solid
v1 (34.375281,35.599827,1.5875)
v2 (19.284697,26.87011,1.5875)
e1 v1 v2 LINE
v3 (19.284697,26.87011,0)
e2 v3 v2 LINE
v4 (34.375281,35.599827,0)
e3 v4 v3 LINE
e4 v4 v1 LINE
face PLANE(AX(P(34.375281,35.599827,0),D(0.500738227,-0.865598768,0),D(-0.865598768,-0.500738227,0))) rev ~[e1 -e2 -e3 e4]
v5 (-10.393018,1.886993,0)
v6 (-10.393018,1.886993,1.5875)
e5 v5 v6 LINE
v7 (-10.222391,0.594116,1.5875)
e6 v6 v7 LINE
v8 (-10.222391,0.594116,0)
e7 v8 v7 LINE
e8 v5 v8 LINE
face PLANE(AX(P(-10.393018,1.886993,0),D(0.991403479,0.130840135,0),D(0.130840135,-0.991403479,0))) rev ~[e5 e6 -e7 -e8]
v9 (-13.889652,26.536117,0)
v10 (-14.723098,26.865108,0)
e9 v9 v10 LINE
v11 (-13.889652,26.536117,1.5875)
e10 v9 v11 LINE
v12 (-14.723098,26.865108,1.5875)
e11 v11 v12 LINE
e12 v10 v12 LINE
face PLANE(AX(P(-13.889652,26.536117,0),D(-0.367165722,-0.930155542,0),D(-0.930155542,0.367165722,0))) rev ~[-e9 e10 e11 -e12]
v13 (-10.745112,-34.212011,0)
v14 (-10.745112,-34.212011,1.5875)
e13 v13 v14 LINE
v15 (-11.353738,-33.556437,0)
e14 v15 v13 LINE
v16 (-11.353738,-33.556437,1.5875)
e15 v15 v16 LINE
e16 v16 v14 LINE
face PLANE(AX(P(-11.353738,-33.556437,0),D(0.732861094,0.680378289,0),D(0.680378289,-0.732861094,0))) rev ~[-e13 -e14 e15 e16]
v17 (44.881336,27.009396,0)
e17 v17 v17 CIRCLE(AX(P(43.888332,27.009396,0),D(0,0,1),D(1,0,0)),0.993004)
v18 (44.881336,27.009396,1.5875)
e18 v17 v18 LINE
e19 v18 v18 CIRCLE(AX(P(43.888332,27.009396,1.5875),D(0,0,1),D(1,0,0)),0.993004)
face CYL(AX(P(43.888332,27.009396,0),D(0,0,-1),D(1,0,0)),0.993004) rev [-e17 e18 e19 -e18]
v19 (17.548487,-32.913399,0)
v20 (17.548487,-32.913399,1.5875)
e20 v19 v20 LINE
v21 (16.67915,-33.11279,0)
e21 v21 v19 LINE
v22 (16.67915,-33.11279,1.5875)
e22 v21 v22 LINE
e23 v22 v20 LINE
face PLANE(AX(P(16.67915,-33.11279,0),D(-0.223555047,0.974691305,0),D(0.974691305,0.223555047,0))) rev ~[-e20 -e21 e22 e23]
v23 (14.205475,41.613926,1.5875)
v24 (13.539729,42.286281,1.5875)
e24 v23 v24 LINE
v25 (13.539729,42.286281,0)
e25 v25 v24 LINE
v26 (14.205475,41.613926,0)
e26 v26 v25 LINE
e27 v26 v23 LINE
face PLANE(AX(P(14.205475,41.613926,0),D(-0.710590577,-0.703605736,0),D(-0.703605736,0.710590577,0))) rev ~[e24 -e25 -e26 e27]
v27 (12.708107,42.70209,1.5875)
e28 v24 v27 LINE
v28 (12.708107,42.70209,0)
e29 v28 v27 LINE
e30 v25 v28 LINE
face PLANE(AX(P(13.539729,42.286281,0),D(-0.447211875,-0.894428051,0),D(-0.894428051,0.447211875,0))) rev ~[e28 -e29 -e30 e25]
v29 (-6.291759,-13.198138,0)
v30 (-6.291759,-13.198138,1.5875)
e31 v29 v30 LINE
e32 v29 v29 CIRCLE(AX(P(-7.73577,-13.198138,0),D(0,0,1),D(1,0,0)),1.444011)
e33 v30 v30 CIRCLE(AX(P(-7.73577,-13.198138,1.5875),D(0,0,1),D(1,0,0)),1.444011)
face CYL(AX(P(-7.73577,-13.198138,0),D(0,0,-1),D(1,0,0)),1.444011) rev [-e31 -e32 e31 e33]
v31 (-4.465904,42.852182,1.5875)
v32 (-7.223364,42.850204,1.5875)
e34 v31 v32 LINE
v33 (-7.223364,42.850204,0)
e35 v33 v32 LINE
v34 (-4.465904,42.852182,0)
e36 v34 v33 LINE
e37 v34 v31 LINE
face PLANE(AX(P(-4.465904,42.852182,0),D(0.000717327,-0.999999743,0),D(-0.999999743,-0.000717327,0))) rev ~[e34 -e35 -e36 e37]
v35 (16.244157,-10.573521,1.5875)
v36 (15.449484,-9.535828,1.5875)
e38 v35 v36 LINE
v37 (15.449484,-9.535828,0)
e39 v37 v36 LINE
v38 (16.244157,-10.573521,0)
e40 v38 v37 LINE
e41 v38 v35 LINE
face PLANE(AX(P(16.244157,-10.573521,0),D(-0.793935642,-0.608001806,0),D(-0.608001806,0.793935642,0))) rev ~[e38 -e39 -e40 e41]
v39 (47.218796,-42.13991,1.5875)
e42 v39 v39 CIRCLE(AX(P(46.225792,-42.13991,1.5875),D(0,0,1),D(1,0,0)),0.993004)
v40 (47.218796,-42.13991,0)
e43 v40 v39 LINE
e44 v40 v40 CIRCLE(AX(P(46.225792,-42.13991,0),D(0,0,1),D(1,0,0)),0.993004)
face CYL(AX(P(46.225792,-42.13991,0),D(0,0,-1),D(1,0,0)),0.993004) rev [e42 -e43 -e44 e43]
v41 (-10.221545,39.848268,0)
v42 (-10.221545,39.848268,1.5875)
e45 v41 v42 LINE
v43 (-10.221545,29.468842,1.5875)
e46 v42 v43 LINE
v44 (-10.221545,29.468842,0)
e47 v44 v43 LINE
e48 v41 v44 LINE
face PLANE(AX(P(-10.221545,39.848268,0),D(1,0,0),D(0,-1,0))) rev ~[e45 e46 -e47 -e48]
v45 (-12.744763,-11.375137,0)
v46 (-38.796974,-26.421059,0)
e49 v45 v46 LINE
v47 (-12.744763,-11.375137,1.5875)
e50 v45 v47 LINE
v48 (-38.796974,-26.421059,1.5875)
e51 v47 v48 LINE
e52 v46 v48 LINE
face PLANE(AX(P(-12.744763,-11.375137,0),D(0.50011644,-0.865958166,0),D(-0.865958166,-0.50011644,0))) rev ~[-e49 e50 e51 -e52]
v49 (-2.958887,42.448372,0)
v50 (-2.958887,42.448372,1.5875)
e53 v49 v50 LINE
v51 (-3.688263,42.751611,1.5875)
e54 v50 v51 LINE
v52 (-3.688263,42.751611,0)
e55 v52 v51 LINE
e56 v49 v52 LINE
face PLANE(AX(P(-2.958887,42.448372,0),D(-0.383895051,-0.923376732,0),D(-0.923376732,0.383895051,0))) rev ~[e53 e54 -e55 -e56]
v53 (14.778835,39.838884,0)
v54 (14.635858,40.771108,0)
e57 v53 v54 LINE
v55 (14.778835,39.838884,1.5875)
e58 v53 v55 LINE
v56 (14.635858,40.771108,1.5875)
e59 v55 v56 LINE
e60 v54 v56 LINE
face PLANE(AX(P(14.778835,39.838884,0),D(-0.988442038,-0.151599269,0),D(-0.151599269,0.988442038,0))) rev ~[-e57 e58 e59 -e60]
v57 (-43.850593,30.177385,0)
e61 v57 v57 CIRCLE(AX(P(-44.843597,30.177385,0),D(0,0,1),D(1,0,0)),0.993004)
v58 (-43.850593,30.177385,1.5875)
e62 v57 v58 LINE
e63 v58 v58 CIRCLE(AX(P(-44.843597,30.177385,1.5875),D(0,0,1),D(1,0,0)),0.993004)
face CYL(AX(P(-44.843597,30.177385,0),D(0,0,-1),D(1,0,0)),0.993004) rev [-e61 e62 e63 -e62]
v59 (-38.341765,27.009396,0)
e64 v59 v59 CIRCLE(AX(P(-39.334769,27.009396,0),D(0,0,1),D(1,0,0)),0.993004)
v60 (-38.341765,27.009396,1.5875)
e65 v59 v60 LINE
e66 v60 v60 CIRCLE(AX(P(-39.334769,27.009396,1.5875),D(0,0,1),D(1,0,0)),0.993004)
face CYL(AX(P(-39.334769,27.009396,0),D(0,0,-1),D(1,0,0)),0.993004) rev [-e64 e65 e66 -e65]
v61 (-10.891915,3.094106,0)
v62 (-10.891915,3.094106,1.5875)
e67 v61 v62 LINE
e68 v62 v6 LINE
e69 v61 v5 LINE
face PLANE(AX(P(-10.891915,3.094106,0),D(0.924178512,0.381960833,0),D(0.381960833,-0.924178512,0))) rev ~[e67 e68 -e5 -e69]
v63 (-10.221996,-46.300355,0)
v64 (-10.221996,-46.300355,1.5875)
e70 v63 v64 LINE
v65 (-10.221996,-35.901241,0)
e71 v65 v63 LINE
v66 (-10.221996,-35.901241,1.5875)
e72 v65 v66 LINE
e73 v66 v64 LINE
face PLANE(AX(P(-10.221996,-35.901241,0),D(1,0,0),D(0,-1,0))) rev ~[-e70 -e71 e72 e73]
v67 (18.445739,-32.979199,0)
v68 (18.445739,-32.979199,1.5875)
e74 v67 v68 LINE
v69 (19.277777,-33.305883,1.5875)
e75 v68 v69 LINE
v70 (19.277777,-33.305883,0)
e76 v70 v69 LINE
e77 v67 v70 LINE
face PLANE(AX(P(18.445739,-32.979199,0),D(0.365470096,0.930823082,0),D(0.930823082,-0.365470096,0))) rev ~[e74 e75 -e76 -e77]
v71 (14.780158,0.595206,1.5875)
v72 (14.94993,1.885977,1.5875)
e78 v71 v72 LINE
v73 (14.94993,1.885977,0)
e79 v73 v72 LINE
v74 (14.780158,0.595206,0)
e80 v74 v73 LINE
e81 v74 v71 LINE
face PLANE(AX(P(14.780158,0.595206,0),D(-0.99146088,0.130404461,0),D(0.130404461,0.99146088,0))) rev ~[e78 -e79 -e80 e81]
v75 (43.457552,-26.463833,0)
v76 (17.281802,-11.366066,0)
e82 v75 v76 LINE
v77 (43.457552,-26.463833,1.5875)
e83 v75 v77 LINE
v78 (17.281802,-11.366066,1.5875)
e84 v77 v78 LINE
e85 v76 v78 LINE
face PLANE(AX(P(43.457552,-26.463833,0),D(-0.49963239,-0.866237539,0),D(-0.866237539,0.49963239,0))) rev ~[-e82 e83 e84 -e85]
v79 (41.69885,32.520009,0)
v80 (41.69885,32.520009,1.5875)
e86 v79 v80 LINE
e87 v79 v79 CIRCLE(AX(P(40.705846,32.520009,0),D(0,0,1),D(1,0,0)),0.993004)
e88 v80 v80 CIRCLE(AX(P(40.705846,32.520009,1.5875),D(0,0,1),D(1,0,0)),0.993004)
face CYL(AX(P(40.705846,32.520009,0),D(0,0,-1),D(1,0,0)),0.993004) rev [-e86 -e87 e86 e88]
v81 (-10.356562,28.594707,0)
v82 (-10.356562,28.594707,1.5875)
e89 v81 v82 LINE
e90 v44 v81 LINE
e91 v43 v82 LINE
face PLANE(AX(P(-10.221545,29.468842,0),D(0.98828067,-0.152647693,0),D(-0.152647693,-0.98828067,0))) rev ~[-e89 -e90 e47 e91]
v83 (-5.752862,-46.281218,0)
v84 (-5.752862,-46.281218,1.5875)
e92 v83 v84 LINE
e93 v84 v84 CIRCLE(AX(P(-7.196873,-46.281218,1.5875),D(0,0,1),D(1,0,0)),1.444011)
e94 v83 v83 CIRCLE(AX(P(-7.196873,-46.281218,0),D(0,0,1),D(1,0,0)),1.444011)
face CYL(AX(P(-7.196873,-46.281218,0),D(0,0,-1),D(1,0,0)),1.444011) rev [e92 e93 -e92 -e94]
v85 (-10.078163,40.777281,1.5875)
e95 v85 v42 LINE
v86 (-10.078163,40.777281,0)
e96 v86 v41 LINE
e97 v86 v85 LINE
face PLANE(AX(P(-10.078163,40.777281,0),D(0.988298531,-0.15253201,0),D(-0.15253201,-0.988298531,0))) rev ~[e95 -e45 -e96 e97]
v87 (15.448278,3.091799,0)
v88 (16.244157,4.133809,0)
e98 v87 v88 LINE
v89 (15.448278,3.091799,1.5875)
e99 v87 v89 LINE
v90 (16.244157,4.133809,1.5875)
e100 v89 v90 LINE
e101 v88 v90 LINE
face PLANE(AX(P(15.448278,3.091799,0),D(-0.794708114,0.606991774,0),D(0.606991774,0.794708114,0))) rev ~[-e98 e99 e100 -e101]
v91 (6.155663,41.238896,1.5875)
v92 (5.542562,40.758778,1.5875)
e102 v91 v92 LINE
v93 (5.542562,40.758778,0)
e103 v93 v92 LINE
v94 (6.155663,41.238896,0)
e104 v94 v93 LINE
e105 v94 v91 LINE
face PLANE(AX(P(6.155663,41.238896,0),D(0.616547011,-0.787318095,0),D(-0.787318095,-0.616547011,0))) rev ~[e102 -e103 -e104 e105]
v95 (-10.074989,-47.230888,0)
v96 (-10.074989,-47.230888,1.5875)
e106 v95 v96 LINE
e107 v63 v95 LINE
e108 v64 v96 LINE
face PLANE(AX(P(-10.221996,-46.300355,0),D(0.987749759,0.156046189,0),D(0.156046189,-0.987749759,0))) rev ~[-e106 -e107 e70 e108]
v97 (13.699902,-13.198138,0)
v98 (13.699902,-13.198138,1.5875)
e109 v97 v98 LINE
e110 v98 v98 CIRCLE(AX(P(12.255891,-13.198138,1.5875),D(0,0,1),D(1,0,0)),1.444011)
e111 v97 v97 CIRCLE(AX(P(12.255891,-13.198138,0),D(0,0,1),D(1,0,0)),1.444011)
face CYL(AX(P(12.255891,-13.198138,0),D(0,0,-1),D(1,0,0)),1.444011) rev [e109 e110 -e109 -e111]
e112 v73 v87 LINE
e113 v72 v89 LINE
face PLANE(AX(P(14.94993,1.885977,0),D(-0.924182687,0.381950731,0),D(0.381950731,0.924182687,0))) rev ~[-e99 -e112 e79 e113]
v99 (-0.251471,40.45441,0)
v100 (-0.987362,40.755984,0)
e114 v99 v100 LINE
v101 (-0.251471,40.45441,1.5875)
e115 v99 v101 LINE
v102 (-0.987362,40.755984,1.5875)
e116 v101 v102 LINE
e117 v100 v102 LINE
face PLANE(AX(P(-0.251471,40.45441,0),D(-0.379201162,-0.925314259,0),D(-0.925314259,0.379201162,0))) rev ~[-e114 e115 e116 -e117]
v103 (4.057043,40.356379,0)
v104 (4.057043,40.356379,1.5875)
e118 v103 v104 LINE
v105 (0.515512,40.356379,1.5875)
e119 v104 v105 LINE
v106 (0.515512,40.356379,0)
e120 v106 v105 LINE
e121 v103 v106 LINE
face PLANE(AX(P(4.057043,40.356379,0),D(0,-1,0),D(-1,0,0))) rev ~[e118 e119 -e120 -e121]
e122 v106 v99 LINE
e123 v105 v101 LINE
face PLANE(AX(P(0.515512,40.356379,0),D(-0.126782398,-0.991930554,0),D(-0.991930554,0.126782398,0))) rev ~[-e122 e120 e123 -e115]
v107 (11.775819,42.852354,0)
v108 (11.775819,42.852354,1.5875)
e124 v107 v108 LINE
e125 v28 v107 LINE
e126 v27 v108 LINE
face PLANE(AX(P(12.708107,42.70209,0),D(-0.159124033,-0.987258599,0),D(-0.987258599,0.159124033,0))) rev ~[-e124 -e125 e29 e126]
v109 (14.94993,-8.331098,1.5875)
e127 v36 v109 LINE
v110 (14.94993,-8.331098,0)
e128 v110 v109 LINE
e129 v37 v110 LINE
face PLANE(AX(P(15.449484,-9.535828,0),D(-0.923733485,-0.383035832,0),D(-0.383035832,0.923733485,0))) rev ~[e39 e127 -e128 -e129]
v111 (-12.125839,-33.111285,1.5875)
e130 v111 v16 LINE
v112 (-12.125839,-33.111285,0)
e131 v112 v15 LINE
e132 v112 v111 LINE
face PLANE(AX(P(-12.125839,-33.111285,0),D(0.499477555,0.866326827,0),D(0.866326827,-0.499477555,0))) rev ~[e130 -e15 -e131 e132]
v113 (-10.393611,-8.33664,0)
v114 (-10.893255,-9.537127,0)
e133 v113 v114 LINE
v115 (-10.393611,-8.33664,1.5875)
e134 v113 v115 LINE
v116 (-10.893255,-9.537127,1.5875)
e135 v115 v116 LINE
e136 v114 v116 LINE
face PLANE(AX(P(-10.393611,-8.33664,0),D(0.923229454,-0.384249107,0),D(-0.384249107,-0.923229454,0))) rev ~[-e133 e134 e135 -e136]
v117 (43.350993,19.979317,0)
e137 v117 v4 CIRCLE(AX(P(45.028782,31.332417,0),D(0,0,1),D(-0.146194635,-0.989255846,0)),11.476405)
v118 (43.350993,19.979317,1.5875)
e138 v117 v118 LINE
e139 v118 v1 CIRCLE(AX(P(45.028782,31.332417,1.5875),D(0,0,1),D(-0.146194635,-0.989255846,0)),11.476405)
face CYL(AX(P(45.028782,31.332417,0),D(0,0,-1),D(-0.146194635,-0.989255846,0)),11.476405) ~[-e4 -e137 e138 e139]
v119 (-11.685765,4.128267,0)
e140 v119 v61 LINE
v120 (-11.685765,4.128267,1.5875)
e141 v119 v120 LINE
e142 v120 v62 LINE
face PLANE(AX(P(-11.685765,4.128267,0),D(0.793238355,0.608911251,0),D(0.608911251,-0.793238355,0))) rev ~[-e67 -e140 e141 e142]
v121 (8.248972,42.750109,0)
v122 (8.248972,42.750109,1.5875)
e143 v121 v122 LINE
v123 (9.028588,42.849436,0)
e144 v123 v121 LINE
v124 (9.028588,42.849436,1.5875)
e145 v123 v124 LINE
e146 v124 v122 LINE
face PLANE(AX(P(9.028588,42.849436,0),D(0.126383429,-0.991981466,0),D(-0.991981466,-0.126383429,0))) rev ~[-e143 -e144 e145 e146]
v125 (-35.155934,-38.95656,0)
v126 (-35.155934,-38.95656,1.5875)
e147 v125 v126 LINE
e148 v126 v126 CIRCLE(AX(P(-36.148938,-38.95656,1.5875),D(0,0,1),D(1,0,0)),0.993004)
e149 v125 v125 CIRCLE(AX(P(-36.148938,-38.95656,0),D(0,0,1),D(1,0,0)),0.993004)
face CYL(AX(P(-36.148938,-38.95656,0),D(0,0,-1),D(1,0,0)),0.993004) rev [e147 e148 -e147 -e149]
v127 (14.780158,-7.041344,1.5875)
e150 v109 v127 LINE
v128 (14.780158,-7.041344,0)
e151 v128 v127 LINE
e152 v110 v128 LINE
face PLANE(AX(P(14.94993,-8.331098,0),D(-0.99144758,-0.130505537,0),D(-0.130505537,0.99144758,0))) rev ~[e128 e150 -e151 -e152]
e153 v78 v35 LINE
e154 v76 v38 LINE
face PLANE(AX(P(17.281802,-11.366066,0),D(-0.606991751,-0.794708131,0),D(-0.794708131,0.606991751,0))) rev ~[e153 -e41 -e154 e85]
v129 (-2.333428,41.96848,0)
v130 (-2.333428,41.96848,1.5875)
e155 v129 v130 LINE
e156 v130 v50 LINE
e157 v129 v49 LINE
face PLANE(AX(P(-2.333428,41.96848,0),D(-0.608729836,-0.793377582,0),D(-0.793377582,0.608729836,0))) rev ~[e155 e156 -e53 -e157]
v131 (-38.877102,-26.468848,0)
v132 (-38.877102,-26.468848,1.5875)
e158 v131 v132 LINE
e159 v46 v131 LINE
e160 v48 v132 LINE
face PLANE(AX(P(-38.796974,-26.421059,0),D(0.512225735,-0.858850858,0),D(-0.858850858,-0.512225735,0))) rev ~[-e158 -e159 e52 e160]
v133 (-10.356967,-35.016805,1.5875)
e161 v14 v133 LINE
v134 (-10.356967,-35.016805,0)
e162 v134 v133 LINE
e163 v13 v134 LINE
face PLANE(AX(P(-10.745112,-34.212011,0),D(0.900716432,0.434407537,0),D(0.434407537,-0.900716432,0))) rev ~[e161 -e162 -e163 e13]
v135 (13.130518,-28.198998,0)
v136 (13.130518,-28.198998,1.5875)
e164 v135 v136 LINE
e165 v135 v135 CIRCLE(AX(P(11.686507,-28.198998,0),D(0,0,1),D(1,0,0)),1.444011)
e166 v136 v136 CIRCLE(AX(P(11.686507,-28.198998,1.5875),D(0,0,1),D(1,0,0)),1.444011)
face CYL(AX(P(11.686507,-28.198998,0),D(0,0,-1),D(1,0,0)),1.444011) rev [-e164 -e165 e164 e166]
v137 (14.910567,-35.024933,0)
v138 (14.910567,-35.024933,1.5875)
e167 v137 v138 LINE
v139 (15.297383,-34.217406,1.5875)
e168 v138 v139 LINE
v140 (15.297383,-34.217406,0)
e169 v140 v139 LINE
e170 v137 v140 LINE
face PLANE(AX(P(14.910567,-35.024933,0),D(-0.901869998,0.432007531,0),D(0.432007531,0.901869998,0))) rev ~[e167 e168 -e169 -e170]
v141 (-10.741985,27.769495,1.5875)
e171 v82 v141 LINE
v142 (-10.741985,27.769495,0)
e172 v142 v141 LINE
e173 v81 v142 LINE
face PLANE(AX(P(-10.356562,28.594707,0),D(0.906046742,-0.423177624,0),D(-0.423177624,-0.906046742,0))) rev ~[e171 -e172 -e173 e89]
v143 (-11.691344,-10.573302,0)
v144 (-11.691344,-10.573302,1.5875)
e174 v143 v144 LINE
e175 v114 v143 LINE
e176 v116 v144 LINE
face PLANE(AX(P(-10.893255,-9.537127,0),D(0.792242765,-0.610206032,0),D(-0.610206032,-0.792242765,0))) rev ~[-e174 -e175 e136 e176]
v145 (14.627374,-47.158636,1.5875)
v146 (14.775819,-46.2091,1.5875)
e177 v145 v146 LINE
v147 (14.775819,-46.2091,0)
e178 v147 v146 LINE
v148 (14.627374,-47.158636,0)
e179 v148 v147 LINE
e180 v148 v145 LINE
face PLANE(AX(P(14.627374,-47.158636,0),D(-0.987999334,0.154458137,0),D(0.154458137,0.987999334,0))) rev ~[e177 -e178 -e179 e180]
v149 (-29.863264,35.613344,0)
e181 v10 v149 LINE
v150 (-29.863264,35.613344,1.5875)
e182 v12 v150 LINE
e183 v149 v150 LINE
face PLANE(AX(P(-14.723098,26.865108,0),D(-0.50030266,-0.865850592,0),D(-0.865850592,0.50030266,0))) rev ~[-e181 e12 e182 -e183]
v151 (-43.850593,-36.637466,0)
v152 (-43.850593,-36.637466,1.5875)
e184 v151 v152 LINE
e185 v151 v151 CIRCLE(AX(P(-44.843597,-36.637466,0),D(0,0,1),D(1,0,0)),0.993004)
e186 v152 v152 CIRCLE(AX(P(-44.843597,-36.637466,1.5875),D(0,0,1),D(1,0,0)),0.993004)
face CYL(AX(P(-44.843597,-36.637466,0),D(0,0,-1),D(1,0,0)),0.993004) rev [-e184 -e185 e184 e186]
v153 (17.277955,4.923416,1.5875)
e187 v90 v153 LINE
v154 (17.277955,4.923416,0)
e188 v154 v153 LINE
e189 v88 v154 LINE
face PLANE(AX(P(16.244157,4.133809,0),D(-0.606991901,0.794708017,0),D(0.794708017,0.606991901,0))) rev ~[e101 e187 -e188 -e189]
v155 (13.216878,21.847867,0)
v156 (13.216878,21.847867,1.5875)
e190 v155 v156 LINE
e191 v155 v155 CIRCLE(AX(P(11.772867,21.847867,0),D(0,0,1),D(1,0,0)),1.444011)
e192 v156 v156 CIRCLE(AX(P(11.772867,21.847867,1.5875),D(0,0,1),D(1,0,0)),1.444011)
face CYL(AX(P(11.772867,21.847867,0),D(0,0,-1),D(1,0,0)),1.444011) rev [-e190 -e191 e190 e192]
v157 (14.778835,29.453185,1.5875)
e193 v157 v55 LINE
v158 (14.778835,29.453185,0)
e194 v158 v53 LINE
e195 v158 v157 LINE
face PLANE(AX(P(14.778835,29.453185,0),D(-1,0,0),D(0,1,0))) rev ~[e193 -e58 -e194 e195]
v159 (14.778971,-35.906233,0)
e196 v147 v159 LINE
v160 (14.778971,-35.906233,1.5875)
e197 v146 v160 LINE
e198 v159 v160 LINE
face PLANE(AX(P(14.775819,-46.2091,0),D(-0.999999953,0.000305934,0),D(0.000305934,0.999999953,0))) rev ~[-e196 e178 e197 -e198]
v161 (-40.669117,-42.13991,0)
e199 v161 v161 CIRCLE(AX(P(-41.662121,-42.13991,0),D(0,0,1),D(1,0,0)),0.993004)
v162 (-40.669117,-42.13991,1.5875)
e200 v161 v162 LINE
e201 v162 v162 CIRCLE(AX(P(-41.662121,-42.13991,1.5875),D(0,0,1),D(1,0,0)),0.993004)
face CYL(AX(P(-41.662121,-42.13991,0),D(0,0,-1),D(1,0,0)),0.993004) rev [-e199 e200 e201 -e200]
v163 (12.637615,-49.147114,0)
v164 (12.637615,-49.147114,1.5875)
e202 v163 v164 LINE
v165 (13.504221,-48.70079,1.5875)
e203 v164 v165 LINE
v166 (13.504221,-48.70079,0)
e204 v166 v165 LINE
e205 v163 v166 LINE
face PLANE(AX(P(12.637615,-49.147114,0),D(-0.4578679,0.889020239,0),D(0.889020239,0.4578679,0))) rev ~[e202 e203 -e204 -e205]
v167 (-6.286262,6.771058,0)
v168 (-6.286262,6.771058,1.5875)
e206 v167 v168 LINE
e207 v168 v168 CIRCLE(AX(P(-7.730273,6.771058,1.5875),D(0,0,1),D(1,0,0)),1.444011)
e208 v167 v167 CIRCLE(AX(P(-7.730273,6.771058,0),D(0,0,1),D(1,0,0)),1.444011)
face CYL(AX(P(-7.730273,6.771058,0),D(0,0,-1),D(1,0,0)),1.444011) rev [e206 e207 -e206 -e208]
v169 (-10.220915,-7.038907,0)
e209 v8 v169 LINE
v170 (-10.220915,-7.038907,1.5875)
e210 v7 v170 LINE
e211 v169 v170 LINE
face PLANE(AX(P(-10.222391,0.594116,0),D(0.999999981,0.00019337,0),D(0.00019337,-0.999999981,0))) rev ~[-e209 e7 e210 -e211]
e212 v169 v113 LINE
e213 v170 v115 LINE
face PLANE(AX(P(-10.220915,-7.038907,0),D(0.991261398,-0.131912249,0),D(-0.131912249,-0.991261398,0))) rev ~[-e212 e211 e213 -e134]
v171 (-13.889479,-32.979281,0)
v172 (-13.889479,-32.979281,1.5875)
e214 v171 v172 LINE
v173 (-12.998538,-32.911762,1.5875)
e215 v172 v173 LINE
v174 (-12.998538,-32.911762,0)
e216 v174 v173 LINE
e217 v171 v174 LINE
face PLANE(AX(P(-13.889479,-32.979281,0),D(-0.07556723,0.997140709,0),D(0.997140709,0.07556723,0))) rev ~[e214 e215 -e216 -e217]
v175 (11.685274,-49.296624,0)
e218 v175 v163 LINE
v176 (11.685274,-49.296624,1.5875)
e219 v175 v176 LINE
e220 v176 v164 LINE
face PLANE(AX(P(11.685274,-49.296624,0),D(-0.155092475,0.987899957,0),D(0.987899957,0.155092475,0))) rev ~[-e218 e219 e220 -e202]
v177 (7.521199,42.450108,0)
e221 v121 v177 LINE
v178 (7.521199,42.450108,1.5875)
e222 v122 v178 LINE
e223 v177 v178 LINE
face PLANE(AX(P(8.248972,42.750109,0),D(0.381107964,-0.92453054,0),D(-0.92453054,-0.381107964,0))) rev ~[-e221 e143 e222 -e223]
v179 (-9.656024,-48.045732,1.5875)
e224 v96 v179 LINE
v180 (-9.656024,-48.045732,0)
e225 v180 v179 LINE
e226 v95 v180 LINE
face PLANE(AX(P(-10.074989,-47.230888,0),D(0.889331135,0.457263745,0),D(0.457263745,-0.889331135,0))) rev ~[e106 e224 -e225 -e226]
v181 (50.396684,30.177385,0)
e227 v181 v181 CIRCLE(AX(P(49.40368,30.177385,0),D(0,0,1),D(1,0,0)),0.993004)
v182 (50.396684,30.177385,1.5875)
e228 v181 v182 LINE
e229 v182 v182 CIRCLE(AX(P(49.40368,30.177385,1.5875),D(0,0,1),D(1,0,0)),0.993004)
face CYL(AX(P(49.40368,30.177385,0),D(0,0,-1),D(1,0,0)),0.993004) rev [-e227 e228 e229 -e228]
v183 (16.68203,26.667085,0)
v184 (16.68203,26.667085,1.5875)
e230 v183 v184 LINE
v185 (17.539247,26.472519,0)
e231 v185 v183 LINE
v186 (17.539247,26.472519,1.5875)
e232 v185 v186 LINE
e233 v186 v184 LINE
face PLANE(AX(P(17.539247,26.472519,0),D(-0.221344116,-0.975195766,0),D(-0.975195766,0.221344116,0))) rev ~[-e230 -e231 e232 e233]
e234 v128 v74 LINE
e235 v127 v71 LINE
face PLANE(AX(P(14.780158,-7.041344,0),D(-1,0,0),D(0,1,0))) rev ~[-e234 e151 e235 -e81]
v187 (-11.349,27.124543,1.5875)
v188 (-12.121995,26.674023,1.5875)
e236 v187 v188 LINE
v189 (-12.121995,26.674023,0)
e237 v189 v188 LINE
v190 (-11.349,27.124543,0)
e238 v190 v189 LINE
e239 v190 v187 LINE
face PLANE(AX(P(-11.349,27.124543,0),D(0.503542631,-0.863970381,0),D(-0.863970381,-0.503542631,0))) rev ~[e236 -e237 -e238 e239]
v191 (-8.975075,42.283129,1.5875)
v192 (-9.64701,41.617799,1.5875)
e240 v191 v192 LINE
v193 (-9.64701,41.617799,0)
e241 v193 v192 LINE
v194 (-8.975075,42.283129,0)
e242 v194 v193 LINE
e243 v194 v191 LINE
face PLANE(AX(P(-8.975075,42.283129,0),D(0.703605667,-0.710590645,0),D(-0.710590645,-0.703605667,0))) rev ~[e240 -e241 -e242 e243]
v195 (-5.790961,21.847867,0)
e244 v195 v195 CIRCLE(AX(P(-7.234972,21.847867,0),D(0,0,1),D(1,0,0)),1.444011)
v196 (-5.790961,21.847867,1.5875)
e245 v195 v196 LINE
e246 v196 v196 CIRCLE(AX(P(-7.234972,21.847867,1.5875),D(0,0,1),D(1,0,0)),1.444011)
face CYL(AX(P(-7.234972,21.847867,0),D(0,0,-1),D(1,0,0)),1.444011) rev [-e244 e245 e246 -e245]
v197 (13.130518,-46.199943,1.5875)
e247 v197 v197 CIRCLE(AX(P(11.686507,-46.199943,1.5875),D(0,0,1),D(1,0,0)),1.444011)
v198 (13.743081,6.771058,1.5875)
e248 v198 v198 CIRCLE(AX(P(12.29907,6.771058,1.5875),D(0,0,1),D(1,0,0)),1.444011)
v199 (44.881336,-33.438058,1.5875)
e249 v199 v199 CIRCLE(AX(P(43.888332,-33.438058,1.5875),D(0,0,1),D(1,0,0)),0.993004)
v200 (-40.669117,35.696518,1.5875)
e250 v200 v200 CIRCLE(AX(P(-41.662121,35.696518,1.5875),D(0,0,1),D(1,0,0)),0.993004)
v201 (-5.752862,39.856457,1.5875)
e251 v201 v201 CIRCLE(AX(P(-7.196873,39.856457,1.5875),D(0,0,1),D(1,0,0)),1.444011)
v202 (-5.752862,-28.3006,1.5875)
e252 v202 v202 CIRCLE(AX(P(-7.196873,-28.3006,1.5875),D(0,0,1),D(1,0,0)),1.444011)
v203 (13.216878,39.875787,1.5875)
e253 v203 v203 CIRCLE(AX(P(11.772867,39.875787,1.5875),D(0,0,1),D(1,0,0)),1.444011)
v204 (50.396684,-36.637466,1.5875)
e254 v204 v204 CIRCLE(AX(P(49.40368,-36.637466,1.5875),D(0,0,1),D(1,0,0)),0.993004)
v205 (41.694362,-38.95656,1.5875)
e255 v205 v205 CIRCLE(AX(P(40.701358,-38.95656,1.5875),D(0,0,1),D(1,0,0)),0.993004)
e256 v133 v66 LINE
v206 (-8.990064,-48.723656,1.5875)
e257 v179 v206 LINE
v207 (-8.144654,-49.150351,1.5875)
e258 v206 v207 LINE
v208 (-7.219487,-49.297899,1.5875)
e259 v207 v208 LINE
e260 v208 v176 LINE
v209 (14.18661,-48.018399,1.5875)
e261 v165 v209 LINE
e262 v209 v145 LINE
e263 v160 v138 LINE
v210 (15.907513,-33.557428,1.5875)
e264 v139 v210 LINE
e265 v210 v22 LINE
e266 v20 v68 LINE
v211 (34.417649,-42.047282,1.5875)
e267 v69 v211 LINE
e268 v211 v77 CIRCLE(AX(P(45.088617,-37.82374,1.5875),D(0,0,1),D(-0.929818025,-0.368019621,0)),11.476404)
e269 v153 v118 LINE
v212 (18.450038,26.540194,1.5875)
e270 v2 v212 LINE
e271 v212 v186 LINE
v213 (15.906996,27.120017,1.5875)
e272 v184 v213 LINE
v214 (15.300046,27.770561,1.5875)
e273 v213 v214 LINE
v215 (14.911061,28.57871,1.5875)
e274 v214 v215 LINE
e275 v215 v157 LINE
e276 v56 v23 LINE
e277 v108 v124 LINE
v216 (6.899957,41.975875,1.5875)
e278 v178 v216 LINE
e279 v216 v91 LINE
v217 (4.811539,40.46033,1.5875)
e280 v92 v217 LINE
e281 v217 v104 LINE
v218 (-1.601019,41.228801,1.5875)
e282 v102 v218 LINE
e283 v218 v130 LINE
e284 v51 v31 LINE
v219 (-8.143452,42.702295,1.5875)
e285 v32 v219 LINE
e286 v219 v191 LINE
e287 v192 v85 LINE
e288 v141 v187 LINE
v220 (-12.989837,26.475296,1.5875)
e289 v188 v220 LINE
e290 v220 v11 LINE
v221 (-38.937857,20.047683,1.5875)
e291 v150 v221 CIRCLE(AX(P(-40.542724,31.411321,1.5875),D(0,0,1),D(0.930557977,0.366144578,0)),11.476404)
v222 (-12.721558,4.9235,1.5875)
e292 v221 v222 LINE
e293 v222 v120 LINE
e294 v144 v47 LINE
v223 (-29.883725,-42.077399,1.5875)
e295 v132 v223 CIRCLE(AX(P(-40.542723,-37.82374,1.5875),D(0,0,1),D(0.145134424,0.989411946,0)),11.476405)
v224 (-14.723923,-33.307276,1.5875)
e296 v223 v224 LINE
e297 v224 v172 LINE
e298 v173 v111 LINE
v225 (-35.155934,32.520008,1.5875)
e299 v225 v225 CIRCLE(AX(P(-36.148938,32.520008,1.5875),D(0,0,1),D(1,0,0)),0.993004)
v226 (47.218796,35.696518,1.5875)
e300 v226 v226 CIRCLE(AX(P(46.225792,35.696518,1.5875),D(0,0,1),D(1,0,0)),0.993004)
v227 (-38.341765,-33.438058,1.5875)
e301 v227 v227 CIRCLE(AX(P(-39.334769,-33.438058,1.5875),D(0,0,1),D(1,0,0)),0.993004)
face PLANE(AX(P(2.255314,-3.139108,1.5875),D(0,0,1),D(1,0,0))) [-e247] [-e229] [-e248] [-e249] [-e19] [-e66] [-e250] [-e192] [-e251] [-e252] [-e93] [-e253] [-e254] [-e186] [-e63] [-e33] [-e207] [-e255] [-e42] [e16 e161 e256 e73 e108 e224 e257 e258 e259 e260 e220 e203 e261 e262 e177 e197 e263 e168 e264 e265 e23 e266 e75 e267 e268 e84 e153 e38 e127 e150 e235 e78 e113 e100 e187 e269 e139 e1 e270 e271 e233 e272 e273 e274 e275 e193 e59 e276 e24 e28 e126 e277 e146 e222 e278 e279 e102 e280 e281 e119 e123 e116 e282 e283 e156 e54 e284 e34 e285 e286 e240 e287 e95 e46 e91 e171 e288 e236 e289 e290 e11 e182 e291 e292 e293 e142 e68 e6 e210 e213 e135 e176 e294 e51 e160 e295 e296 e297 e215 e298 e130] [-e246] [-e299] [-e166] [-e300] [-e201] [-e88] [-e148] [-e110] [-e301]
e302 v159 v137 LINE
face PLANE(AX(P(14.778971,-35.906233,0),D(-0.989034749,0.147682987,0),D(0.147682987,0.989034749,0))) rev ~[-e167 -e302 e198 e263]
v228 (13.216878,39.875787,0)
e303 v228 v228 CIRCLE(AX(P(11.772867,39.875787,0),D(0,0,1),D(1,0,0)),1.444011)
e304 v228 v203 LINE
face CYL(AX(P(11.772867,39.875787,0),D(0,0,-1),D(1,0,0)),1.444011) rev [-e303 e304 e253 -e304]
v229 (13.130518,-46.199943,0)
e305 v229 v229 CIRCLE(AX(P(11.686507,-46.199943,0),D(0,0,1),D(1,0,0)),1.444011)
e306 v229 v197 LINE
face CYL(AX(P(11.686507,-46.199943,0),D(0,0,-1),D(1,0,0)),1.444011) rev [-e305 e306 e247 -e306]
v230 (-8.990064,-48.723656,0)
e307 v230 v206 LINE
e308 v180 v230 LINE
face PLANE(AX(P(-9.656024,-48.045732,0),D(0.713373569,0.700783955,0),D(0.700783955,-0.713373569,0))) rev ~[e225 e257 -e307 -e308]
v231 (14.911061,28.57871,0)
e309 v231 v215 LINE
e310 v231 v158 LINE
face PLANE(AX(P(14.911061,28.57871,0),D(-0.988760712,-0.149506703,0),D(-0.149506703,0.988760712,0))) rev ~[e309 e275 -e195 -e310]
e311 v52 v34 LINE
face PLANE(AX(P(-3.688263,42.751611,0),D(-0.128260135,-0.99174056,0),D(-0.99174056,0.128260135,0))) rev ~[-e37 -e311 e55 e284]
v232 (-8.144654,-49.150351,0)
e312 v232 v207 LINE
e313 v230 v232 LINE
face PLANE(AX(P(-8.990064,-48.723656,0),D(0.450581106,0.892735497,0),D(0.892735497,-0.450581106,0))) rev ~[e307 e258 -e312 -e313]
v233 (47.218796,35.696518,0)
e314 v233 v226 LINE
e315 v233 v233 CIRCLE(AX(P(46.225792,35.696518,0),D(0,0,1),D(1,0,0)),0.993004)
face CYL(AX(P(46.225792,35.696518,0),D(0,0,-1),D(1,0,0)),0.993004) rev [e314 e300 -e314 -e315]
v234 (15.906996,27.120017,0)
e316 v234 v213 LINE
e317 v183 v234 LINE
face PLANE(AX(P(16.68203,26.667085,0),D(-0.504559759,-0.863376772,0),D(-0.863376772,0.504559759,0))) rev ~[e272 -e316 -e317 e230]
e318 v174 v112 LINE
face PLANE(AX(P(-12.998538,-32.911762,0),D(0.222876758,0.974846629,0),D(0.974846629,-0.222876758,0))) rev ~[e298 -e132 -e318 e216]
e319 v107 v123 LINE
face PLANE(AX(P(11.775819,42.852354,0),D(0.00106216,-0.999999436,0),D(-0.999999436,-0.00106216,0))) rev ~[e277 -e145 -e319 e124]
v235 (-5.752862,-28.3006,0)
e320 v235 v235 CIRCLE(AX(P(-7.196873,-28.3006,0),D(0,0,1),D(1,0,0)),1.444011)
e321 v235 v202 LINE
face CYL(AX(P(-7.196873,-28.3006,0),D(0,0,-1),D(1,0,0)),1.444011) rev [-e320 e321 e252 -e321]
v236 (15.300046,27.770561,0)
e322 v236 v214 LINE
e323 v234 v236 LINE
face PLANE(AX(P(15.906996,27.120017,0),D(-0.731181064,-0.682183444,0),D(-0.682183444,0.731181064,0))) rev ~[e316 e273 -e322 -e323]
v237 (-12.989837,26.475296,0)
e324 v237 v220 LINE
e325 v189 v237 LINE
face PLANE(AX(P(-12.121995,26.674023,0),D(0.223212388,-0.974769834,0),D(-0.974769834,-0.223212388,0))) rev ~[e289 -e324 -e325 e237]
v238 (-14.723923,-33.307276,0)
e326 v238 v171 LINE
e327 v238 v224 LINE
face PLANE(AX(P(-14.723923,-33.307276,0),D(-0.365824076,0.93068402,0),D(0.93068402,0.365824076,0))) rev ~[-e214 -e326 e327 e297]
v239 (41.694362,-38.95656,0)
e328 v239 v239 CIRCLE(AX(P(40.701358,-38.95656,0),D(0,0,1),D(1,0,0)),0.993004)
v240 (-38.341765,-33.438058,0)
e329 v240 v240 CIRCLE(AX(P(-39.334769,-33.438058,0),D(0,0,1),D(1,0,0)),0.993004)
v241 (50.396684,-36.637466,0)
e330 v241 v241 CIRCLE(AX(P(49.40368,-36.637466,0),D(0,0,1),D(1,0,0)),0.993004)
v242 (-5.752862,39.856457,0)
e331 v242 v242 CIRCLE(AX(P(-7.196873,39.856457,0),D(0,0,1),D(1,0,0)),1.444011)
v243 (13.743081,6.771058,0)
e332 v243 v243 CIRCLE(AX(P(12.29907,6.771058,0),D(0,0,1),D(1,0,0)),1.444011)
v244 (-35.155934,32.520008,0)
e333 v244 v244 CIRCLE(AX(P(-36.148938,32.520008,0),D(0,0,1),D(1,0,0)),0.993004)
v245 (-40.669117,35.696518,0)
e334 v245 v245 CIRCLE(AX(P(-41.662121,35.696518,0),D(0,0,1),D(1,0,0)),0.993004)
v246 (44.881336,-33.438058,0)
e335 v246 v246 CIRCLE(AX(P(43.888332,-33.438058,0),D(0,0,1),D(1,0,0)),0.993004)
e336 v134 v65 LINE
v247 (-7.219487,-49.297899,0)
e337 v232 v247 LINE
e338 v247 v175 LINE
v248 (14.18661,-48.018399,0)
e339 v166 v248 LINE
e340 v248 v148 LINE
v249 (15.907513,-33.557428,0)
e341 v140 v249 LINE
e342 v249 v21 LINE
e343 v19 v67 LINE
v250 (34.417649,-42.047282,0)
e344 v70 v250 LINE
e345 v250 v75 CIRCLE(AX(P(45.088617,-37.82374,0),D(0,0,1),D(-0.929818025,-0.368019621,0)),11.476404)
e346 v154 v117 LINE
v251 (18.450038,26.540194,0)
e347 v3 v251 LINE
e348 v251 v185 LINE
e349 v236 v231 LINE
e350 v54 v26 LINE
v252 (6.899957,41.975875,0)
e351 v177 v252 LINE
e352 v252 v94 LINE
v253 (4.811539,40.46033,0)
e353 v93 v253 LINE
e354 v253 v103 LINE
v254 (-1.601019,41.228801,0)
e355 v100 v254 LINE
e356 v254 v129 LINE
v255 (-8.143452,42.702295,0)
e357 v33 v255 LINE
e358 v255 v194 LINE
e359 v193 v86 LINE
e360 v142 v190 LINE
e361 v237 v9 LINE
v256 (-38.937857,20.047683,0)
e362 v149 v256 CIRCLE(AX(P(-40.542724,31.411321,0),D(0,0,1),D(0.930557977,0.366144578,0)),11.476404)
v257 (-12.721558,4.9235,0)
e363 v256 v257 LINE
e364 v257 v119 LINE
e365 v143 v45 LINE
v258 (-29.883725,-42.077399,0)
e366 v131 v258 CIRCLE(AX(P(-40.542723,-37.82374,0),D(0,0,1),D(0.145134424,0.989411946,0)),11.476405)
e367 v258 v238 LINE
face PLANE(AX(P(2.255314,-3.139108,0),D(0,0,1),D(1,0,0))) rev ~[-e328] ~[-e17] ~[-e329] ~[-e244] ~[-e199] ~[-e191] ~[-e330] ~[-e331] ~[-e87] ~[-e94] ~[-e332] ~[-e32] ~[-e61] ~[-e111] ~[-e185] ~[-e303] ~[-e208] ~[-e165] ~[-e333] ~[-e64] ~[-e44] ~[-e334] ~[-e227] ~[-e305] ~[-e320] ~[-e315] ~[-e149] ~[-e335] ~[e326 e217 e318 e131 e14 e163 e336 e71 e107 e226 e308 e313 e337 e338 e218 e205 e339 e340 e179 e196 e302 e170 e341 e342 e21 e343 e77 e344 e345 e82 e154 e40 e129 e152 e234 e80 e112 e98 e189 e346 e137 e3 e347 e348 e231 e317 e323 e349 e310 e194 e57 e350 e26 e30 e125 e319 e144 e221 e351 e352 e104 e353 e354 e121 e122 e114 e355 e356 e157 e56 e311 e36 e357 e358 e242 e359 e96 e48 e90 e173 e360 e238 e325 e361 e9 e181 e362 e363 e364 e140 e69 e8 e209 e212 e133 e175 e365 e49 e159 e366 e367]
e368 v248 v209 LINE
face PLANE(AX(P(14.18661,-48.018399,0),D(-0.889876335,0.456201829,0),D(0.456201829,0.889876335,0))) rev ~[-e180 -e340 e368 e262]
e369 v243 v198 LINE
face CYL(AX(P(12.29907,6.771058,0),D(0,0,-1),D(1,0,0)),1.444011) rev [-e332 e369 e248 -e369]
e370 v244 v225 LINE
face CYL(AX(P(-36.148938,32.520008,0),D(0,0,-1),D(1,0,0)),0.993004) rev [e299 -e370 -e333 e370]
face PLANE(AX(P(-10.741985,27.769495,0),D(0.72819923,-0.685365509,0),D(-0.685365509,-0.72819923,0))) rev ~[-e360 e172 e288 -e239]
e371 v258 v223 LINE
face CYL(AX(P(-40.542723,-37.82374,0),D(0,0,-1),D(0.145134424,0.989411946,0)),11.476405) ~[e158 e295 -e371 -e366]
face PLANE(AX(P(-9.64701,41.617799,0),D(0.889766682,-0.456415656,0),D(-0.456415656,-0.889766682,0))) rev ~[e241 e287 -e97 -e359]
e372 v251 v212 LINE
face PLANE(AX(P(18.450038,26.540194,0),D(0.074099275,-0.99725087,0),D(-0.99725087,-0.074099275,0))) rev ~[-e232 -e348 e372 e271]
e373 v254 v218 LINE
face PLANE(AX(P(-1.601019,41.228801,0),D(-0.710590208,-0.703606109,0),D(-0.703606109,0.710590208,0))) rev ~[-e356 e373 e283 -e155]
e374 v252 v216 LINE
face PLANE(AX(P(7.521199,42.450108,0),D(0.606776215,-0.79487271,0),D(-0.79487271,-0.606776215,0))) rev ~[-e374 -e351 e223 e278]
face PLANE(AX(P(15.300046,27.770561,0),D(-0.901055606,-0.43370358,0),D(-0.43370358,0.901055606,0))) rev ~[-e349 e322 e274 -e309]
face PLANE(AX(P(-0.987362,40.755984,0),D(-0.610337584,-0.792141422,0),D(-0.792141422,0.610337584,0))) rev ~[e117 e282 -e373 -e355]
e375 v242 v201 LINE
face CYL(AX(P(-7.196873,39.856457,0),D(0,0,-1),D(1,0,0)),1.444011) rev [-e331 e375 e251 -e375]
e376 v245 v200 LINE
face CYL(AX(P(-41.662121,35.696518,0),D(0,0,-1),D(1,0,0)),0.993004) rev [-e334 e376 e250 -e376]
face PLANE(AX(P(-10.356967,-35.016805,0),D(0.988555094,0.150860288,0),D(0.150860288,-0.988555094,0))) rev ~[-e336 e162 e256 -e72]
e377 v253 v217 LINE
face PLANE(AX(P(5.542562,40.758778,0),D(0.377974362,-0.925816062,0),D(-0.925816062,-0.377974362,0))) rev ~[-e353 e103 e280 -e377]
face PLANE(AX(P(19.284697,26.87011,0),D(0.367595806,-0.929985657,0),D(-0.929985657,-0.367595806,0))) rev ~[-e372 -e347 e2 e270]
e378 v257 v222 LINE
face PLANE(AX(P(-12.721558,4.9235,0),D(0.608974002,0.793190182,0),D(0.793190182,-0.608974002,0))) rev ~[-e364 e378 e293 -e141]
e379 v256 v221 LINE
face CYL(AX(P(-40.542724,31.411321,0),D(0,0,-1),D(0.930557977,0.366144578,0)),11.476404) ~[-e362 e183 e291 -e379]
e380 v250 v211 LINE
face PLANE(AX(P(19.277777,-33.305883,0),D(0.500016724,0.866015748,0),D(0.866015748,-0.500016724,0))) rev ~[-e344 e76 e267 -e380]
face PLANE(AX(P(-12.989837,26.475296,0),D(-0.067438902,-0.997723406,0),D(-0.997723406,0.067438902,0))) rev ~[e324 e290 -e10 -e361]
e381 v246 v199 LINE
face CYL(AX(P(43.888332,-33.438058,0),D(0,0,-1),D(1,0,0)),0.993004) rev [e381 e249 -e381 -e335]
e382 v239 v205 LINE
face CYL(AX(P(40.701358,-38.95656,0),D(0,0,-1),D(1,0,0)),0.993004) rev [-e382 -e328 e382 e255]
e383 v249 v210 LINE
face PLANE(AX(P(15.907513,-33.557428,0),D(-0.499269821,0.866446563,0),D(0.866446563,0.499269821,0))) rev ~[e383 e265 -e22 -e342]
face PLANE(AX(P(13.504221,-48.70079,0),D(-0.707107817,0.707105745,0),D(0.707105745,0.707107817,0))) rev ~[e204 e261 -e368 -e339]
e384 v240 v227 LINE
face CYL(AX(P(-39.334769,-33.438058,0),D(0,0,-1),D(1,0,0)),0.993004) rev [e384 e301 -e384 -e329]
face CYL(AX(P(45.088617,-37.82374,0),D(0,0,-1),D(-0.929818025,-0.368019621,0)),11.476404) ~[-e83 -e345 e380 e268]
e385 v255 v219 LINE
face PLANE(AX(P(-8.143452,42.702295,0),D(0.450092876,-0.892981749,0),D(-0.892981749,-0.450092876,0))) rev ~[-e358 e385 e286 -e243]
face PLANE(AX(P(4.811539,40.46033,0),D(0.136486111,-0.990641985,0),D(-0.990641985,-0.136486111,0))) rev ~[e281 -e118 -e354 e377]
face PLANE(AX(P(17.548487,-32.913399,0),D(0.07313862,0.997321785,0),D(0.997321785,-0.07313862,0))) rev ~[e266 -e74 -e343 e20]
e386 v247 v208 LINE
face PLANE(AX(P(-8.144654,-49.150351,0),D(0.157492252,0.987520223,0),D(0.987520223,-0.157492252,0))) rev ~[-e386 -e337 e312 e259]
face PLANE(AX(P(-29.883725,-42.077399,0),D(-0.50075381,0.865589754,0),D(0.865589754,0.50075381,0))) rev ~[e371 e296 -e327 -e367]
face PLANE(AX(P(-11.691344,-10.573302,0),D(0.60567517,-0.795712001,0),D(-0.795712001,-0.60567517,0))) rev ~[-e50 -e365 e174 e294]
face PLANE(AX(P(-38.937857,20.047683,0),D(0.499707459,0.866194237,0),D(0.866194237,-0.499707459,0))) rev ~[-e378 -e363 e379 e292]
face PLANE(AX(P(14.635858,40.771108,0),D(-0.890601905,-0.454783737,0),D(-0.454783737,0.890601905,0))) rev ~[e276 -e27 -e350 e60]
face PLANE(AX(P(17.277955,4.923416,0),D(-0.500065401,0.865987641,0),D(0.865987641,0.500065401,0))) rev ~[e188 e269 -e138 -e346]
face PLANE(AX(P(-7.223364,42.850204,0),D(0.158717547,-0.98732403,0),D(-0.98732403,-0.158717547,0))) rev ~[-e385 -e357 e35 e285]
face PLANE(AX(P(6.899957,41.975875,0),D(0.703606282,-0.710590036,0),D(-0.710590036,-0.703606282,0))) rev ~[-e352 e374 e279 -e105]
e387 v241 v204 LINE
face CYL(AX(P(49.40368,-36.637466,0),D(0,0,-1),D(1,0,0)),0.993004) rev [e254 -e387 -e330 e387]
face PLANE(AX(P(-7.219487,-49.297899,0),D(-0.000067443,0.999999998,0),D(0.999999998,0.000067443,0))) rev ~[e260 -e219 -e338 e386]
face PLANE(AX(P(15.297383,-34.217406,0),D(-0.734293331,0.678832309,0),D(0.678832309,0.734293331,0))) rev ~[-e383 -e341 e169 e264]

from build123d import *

# Parameters (mm, degrees)
F0_R     = 0.993004
F0_R_2   = 1.444011
F1_DEPTH = 1.5875


with BuildPart() as f1:
    # F0 (on Top) → F1 (new body)
    with BuildSketch(Plane.XY):
        with BuildLine():
            Line((-14.723098, 26.865108), (-29.863264, 35.613344))
            ThreePointArc((-29.863264, 35.613344), (-50.45729, 37.191393), (-38.937857, 20.047683))
            Line((-38.937857, 20.047683), (-12.721558, 4.9235))
            Line((-12.721558, 4.9235), (-11.685765, 4.128267))
            Line((-11.685765, 4.128267), (-10.891915, 3.094106))
            Line((-10.891915, 3.094106), (-10.393018, 1.886993))
            Line((-10.393018, 1.886993), (-10.222391, 0.594116))
            Line((-10.222391, 0.594116), (-10.220915, -7.038907))
            Line((-10.220915, -7.038907), (-10.393611, -8.33664))
            Line((-10.393611, -8.33664), (-10.893255, -9.537127))
            Line((-10.893255, -9.537127), (-11.691344, -10.573302))
            Line((-11.691344, -10.573302), (-12.744763, -11.375137))
            Line((-12.744763, -11.375137), (-38.796974, -26.421059))
            Line((-38.796974, -26.421059), (-38.877102, -26.468848))
            ThreePointArc((-38.877102, -26.468848), (-50.486605, -43.553232), (-29.883725, -42.077399))
            Line((-29.883725, -42.077399), (-14.723923, -33.307276))
            Line((-14.723923, -33.307276), (-13.889479, -32.979281))
            Line((-13.889479, -32.979281), (-12.998538, -32.911762))
            Line((-12.998538, -32.911762), (-12.125839, -33.111285))
            Line((-12.125839, -33.111285), (-11.353738, -33.556437))
            Line((-11.353738, -33.556437), (-10.745112, -34.212011))
            Line((-10.745112, -34.212011), (-10.356967, -35.016805))
            Line((-10.356967, -35.016805), (-10.221996, -35.901241))
            Line((-10.221996, -35.901241), (-10.221996, -46.300355))
            Line((-10.221996, -46.300355), (-10.074989, -47.230888))
            Line((-10.074989, -47.230888), (-9.656024, -48.045732))
            Line((-9.656024, -48.045732), (-8.990064, -48.723656))
            Line((-8.990064, -48.723656), (-8.144654, -49.150351))
            Line((-8.144654, -49.150351), (-7.219487, -49.297899))
            Line((-7.219487, -49.297899), (11.685274, -49.296624))
            Line((11.685274, -49.296624), (12.637615, -49.147114))
            Line((12.637615, -49.147114), (13.504221, -48.70079))
            Line((13.504221, -48.70079), (14.18661, -48.018399))
            Line((14.18661, -48.018399), (14.627374, -47.158636))
            Line((14.627374, -47.158636), (14.775819, -46.2091))
            Line((14.775819, -46.2091), (14.778971, -35.906233))
            Line((14.778971, -35.906233), (14.910567, -35.024933))
            Line((14.910567, -35.024933), (15.297383, -34.217406))
            Line((15.297383, -34.217406), (15.907513, -33.557428))
            Line((15.907513, -33.557428), (16.67915, -33.11279))
            Line((16.67915, -33.11279), (17.548487, -32.913399))
            Line((17.548487, -32.913399), (18.445739, -32.979199))
            Line((18.445739, -32.979199), (19.277777, -33.305883))
            Line((19.277777, -33.305883), (34.417649, -42.047282))
            ThreePointArc((34.417649, -42.047282), (55.015649, -43.582376), (43.457552, -26.463833))
            Line((43.457552, -26.463833), (17.281802, -11.366066))
            Line((17.281802, -11.366066), (16.244157, -10.573521))
            Line((16.244157, -10.573521), (15.449484, -9.535828))
            Line((15.449484, -9.535828), (14.94993, -8.331098))
            Line((14.94993, -8.331098), (14.780158, -7.041344))
            Line((14.780158, -7.041344), (14.780158, 0.595206))
            Line((14.780158, 0.595206), (14.94993, 1.885977))
            Line((14.94993, 1.885977), (15.448278, 3.091799))
            Line((15.448278, 3.091799), (16.244157, 4.133809))
            Line((16.244157, 4.133809), (17.277955, 4.923416))
            Line((17.277955, 4.923416), (43.350993, 19.979317))
            ThreePointArc((43.350993, 19.979317), (54.979423, 37.050162), (34.375281, 35.599827))
            Line((34.375281, 35.599827), (19.284697, 26.87011))
            Line((19.284697, 26.87011), (18.450038, 26.540194))
            Line((18.450038, 26.540194), (17.539247, 26.472519))
            Line((17.539247, 26.472519), (16.68203, 26.667085))
            Line((16.68203, 26.667085), (15.906996, 27.120017))
            Line((15.906996, 27.120017), (15.300046, 27.770561))
            Line((15.300046, 27.770561), (14.911061, 28.57871))
            Line((14.911061, 28.57871), (14.778835, 29.453185))
            Line((14.778835, 29.453185), (14.778835, 39.838884))
            Line((14.778835, 39.838884), (14.635858, 40.771108))
            Line((14.635858, 40.771108), (14.205475, 41.613926))
            Line((14.205475, 41.613926), (13.539729, 42.286281))
            Line((13.539729, 42.286281), (12.708107, 42.70209))
            Line((12.708107, 42.70209), (11.775819, 42.852354))
            Line((11.775819, 42.852354), (9.028588, 42.849436))
            Line((9.028588, 42.849436), (8.248972, 42.750109))
            Line((8.248972, 42.750109), (7.521199, 42.450108))
            Line((7.521199, 42.450108), (6.899957, 41.975875))
            Line((6.899957, 41.975875), (6.155663, 41.238896))
            Line((6.155663, 41.238896), (5.542562, 40.758778))
            Line((5.542562, 40.758778), (4.811539, 40.46033))
            Line((4.811539, 40.46033), (4.057043, 40.356379))
            Line((4.057043, 40.356379), (0.515512, 40.356379))
            Line((0.515512, 40.356379), (-0.251471, 40.45441))
            Line((-0.251471, 40.45441), (-0.987362, 40.755984))
            Line((-0.987362, 40.755984), (-1.601019, 41.228801))
            Line((-1.601019, 41.228801), (-2.333428, 41.96848))
            Line((-2.333428, 41.96848), (-2.958887, 42.448372))
            Line((-2.958887, 42.448372), (-3.688263, 42.751611))
            Line((-3.688263, 42.751611), (-4.465904, 42.852182))
            Line((-4.465904, 42.852182), (-7.223364, 42.850204))
            Line((-7.223364, 42.850204), (-8.143452, 42.702295))
            Line((-8.143452, 42.702295), (-8.975075, 42.283129))
            Line((-8.975075, 42.283129), (-9.64701, 41.617799))
            Line((-9.64701, 41.617799), (-10.078163, 40.777281))
            Line((-10.078163, 40.777281), (-10.221545, 39.848268))
            Line((-10.221545, 39.848268), (-10.221545, 29.468842))
            Line((-10.221545, 29.468842), (-10.356562, 28.594707))
            Line((-10.356562, 28.594707), (-10.741985, 27.769495))
            Line((-10.741985, 27.769495), (-11.349, 27.124543))
            Line((-11.349, 27.124543), (-12.121995, 26.674023))
            Line((-12.121995, 26.674023), (-12.989837, 26.475296))
            Line((-12.989837, 26.475296), (-13.889652, 26.536117))
            Line((-13.889652, 26.536117), (-14.723098, 26.865108))
        make_face()
        with Locations((-41.662121, -42.13991)):
            Circle(F0_R, mode=Mode.SUBTRACT)
        with Locations((-36.148938, -38.95656)):
            Circle(F0_R, mode=Mode.SUBTRACT)
        with Locations((-44.843597, -36.637466)):
            Circle(F0_R, mode=Mode.SUBTRACT)
        with Locations((-39.334769, -33.438058)):
            Circle(F0_R, mode=Mode.SUBTRACT)
        with Locations((-7.196873, -46.281218)):
            Circle(F0_R_2, mode=Mode.SUBTRACT)
        with Locations((-7.196873, -28.3006)):
            Circle(F0_R_2, mode=Mode.SUBTRACT)
        with Locations((-7.73577, -13.198138)):
            Circle(F0_R_2, mode=Mode.SUBTRACT)
        with Locations((11.686507, -46.199943)):
            Circle(F0_R_2, mode=Mode.SUBTRACT)
        with Locations((11.686507, -28.198998)):
            Circle(F0_R_2, mode=Mode.SUBTRACT)
        with Locations((40.701358, -38.95656)):
            Circle(F0_R, mode=Mode.SUBTRACT)
        with Locations((46.225792, -42.13991)):
            Circle(F0_R, mode=Mode.SUBTRACT)
        with Locations((49.40368, -36.637466)):
            Circle(F0_R, mode=Mode.SUBTRACT)
        with Locations((43.888332, -33.438058)):
            Circle(F0_R, mode=Mode.SUBTRACT)
        with Locations((12.255891, -13.198138)):
            Circle(F0_R_2, mode=Mode.SUBTRACT)
        with Locations((-7.730273, 6.771058)):
            Circle(F0_R_2, mode=Mode.SUBTRACT)
        with Locations((-39.334769, 27.009396)):
            Circle(F0_R, mode=Mode.SUBTRACT)
        with Locations((-44.843597, 30.177385)):
            Circle(F0_R, mode=Mode.SUBTRACT)
        with Locations((-41.662121, 35.696518)):
            Circle(F0_R, mode=Mode.SUBTRACT)
        with Locations((-36.148938, 32.520008)):
            Circle(F0_R, mode=Mode.SUBTRACT)
        with Locations((-7.234972, 21.847867)):
            Circle(F0_R_2, mode=Mode.SUBTRACT)
        with Locations((-7.196873, 39.856457)):
            Circle(F0_R_2, mode=Mode.SUBTRACT)
        with Locations((12.29907, 6.771058)):
            Circle(F0_R_2, mode=Mode.SUBTRACT)
        with Locations((11.772867, 21.847867)):
            Circle(F0_R_2, mode=Mode.SUBTRACT)
        with Locations((11.772867, 39.875787)):
            Circle(F0_R_2, mode=Mode.SUBTRACT)
        with Locations((43.888332, 27.009396)):
            Circle(F0_R, mode=Mode.SUBTRACT)
        with Locations((49.40368, 30.177385)):
            Circle(F0_R, mode=Mode.SUBTRACT)
        with Locations((40.705846, 32.520009)):
            Circle(F0_R, mode=Mode.SUBTRACT)
        with Locations((46.225792, 35.696518)):
            Circle(F0_R, mode=Mode.SUBTRACT)
    extrude(amount=F1_DEPTH)


solid = f1.part
